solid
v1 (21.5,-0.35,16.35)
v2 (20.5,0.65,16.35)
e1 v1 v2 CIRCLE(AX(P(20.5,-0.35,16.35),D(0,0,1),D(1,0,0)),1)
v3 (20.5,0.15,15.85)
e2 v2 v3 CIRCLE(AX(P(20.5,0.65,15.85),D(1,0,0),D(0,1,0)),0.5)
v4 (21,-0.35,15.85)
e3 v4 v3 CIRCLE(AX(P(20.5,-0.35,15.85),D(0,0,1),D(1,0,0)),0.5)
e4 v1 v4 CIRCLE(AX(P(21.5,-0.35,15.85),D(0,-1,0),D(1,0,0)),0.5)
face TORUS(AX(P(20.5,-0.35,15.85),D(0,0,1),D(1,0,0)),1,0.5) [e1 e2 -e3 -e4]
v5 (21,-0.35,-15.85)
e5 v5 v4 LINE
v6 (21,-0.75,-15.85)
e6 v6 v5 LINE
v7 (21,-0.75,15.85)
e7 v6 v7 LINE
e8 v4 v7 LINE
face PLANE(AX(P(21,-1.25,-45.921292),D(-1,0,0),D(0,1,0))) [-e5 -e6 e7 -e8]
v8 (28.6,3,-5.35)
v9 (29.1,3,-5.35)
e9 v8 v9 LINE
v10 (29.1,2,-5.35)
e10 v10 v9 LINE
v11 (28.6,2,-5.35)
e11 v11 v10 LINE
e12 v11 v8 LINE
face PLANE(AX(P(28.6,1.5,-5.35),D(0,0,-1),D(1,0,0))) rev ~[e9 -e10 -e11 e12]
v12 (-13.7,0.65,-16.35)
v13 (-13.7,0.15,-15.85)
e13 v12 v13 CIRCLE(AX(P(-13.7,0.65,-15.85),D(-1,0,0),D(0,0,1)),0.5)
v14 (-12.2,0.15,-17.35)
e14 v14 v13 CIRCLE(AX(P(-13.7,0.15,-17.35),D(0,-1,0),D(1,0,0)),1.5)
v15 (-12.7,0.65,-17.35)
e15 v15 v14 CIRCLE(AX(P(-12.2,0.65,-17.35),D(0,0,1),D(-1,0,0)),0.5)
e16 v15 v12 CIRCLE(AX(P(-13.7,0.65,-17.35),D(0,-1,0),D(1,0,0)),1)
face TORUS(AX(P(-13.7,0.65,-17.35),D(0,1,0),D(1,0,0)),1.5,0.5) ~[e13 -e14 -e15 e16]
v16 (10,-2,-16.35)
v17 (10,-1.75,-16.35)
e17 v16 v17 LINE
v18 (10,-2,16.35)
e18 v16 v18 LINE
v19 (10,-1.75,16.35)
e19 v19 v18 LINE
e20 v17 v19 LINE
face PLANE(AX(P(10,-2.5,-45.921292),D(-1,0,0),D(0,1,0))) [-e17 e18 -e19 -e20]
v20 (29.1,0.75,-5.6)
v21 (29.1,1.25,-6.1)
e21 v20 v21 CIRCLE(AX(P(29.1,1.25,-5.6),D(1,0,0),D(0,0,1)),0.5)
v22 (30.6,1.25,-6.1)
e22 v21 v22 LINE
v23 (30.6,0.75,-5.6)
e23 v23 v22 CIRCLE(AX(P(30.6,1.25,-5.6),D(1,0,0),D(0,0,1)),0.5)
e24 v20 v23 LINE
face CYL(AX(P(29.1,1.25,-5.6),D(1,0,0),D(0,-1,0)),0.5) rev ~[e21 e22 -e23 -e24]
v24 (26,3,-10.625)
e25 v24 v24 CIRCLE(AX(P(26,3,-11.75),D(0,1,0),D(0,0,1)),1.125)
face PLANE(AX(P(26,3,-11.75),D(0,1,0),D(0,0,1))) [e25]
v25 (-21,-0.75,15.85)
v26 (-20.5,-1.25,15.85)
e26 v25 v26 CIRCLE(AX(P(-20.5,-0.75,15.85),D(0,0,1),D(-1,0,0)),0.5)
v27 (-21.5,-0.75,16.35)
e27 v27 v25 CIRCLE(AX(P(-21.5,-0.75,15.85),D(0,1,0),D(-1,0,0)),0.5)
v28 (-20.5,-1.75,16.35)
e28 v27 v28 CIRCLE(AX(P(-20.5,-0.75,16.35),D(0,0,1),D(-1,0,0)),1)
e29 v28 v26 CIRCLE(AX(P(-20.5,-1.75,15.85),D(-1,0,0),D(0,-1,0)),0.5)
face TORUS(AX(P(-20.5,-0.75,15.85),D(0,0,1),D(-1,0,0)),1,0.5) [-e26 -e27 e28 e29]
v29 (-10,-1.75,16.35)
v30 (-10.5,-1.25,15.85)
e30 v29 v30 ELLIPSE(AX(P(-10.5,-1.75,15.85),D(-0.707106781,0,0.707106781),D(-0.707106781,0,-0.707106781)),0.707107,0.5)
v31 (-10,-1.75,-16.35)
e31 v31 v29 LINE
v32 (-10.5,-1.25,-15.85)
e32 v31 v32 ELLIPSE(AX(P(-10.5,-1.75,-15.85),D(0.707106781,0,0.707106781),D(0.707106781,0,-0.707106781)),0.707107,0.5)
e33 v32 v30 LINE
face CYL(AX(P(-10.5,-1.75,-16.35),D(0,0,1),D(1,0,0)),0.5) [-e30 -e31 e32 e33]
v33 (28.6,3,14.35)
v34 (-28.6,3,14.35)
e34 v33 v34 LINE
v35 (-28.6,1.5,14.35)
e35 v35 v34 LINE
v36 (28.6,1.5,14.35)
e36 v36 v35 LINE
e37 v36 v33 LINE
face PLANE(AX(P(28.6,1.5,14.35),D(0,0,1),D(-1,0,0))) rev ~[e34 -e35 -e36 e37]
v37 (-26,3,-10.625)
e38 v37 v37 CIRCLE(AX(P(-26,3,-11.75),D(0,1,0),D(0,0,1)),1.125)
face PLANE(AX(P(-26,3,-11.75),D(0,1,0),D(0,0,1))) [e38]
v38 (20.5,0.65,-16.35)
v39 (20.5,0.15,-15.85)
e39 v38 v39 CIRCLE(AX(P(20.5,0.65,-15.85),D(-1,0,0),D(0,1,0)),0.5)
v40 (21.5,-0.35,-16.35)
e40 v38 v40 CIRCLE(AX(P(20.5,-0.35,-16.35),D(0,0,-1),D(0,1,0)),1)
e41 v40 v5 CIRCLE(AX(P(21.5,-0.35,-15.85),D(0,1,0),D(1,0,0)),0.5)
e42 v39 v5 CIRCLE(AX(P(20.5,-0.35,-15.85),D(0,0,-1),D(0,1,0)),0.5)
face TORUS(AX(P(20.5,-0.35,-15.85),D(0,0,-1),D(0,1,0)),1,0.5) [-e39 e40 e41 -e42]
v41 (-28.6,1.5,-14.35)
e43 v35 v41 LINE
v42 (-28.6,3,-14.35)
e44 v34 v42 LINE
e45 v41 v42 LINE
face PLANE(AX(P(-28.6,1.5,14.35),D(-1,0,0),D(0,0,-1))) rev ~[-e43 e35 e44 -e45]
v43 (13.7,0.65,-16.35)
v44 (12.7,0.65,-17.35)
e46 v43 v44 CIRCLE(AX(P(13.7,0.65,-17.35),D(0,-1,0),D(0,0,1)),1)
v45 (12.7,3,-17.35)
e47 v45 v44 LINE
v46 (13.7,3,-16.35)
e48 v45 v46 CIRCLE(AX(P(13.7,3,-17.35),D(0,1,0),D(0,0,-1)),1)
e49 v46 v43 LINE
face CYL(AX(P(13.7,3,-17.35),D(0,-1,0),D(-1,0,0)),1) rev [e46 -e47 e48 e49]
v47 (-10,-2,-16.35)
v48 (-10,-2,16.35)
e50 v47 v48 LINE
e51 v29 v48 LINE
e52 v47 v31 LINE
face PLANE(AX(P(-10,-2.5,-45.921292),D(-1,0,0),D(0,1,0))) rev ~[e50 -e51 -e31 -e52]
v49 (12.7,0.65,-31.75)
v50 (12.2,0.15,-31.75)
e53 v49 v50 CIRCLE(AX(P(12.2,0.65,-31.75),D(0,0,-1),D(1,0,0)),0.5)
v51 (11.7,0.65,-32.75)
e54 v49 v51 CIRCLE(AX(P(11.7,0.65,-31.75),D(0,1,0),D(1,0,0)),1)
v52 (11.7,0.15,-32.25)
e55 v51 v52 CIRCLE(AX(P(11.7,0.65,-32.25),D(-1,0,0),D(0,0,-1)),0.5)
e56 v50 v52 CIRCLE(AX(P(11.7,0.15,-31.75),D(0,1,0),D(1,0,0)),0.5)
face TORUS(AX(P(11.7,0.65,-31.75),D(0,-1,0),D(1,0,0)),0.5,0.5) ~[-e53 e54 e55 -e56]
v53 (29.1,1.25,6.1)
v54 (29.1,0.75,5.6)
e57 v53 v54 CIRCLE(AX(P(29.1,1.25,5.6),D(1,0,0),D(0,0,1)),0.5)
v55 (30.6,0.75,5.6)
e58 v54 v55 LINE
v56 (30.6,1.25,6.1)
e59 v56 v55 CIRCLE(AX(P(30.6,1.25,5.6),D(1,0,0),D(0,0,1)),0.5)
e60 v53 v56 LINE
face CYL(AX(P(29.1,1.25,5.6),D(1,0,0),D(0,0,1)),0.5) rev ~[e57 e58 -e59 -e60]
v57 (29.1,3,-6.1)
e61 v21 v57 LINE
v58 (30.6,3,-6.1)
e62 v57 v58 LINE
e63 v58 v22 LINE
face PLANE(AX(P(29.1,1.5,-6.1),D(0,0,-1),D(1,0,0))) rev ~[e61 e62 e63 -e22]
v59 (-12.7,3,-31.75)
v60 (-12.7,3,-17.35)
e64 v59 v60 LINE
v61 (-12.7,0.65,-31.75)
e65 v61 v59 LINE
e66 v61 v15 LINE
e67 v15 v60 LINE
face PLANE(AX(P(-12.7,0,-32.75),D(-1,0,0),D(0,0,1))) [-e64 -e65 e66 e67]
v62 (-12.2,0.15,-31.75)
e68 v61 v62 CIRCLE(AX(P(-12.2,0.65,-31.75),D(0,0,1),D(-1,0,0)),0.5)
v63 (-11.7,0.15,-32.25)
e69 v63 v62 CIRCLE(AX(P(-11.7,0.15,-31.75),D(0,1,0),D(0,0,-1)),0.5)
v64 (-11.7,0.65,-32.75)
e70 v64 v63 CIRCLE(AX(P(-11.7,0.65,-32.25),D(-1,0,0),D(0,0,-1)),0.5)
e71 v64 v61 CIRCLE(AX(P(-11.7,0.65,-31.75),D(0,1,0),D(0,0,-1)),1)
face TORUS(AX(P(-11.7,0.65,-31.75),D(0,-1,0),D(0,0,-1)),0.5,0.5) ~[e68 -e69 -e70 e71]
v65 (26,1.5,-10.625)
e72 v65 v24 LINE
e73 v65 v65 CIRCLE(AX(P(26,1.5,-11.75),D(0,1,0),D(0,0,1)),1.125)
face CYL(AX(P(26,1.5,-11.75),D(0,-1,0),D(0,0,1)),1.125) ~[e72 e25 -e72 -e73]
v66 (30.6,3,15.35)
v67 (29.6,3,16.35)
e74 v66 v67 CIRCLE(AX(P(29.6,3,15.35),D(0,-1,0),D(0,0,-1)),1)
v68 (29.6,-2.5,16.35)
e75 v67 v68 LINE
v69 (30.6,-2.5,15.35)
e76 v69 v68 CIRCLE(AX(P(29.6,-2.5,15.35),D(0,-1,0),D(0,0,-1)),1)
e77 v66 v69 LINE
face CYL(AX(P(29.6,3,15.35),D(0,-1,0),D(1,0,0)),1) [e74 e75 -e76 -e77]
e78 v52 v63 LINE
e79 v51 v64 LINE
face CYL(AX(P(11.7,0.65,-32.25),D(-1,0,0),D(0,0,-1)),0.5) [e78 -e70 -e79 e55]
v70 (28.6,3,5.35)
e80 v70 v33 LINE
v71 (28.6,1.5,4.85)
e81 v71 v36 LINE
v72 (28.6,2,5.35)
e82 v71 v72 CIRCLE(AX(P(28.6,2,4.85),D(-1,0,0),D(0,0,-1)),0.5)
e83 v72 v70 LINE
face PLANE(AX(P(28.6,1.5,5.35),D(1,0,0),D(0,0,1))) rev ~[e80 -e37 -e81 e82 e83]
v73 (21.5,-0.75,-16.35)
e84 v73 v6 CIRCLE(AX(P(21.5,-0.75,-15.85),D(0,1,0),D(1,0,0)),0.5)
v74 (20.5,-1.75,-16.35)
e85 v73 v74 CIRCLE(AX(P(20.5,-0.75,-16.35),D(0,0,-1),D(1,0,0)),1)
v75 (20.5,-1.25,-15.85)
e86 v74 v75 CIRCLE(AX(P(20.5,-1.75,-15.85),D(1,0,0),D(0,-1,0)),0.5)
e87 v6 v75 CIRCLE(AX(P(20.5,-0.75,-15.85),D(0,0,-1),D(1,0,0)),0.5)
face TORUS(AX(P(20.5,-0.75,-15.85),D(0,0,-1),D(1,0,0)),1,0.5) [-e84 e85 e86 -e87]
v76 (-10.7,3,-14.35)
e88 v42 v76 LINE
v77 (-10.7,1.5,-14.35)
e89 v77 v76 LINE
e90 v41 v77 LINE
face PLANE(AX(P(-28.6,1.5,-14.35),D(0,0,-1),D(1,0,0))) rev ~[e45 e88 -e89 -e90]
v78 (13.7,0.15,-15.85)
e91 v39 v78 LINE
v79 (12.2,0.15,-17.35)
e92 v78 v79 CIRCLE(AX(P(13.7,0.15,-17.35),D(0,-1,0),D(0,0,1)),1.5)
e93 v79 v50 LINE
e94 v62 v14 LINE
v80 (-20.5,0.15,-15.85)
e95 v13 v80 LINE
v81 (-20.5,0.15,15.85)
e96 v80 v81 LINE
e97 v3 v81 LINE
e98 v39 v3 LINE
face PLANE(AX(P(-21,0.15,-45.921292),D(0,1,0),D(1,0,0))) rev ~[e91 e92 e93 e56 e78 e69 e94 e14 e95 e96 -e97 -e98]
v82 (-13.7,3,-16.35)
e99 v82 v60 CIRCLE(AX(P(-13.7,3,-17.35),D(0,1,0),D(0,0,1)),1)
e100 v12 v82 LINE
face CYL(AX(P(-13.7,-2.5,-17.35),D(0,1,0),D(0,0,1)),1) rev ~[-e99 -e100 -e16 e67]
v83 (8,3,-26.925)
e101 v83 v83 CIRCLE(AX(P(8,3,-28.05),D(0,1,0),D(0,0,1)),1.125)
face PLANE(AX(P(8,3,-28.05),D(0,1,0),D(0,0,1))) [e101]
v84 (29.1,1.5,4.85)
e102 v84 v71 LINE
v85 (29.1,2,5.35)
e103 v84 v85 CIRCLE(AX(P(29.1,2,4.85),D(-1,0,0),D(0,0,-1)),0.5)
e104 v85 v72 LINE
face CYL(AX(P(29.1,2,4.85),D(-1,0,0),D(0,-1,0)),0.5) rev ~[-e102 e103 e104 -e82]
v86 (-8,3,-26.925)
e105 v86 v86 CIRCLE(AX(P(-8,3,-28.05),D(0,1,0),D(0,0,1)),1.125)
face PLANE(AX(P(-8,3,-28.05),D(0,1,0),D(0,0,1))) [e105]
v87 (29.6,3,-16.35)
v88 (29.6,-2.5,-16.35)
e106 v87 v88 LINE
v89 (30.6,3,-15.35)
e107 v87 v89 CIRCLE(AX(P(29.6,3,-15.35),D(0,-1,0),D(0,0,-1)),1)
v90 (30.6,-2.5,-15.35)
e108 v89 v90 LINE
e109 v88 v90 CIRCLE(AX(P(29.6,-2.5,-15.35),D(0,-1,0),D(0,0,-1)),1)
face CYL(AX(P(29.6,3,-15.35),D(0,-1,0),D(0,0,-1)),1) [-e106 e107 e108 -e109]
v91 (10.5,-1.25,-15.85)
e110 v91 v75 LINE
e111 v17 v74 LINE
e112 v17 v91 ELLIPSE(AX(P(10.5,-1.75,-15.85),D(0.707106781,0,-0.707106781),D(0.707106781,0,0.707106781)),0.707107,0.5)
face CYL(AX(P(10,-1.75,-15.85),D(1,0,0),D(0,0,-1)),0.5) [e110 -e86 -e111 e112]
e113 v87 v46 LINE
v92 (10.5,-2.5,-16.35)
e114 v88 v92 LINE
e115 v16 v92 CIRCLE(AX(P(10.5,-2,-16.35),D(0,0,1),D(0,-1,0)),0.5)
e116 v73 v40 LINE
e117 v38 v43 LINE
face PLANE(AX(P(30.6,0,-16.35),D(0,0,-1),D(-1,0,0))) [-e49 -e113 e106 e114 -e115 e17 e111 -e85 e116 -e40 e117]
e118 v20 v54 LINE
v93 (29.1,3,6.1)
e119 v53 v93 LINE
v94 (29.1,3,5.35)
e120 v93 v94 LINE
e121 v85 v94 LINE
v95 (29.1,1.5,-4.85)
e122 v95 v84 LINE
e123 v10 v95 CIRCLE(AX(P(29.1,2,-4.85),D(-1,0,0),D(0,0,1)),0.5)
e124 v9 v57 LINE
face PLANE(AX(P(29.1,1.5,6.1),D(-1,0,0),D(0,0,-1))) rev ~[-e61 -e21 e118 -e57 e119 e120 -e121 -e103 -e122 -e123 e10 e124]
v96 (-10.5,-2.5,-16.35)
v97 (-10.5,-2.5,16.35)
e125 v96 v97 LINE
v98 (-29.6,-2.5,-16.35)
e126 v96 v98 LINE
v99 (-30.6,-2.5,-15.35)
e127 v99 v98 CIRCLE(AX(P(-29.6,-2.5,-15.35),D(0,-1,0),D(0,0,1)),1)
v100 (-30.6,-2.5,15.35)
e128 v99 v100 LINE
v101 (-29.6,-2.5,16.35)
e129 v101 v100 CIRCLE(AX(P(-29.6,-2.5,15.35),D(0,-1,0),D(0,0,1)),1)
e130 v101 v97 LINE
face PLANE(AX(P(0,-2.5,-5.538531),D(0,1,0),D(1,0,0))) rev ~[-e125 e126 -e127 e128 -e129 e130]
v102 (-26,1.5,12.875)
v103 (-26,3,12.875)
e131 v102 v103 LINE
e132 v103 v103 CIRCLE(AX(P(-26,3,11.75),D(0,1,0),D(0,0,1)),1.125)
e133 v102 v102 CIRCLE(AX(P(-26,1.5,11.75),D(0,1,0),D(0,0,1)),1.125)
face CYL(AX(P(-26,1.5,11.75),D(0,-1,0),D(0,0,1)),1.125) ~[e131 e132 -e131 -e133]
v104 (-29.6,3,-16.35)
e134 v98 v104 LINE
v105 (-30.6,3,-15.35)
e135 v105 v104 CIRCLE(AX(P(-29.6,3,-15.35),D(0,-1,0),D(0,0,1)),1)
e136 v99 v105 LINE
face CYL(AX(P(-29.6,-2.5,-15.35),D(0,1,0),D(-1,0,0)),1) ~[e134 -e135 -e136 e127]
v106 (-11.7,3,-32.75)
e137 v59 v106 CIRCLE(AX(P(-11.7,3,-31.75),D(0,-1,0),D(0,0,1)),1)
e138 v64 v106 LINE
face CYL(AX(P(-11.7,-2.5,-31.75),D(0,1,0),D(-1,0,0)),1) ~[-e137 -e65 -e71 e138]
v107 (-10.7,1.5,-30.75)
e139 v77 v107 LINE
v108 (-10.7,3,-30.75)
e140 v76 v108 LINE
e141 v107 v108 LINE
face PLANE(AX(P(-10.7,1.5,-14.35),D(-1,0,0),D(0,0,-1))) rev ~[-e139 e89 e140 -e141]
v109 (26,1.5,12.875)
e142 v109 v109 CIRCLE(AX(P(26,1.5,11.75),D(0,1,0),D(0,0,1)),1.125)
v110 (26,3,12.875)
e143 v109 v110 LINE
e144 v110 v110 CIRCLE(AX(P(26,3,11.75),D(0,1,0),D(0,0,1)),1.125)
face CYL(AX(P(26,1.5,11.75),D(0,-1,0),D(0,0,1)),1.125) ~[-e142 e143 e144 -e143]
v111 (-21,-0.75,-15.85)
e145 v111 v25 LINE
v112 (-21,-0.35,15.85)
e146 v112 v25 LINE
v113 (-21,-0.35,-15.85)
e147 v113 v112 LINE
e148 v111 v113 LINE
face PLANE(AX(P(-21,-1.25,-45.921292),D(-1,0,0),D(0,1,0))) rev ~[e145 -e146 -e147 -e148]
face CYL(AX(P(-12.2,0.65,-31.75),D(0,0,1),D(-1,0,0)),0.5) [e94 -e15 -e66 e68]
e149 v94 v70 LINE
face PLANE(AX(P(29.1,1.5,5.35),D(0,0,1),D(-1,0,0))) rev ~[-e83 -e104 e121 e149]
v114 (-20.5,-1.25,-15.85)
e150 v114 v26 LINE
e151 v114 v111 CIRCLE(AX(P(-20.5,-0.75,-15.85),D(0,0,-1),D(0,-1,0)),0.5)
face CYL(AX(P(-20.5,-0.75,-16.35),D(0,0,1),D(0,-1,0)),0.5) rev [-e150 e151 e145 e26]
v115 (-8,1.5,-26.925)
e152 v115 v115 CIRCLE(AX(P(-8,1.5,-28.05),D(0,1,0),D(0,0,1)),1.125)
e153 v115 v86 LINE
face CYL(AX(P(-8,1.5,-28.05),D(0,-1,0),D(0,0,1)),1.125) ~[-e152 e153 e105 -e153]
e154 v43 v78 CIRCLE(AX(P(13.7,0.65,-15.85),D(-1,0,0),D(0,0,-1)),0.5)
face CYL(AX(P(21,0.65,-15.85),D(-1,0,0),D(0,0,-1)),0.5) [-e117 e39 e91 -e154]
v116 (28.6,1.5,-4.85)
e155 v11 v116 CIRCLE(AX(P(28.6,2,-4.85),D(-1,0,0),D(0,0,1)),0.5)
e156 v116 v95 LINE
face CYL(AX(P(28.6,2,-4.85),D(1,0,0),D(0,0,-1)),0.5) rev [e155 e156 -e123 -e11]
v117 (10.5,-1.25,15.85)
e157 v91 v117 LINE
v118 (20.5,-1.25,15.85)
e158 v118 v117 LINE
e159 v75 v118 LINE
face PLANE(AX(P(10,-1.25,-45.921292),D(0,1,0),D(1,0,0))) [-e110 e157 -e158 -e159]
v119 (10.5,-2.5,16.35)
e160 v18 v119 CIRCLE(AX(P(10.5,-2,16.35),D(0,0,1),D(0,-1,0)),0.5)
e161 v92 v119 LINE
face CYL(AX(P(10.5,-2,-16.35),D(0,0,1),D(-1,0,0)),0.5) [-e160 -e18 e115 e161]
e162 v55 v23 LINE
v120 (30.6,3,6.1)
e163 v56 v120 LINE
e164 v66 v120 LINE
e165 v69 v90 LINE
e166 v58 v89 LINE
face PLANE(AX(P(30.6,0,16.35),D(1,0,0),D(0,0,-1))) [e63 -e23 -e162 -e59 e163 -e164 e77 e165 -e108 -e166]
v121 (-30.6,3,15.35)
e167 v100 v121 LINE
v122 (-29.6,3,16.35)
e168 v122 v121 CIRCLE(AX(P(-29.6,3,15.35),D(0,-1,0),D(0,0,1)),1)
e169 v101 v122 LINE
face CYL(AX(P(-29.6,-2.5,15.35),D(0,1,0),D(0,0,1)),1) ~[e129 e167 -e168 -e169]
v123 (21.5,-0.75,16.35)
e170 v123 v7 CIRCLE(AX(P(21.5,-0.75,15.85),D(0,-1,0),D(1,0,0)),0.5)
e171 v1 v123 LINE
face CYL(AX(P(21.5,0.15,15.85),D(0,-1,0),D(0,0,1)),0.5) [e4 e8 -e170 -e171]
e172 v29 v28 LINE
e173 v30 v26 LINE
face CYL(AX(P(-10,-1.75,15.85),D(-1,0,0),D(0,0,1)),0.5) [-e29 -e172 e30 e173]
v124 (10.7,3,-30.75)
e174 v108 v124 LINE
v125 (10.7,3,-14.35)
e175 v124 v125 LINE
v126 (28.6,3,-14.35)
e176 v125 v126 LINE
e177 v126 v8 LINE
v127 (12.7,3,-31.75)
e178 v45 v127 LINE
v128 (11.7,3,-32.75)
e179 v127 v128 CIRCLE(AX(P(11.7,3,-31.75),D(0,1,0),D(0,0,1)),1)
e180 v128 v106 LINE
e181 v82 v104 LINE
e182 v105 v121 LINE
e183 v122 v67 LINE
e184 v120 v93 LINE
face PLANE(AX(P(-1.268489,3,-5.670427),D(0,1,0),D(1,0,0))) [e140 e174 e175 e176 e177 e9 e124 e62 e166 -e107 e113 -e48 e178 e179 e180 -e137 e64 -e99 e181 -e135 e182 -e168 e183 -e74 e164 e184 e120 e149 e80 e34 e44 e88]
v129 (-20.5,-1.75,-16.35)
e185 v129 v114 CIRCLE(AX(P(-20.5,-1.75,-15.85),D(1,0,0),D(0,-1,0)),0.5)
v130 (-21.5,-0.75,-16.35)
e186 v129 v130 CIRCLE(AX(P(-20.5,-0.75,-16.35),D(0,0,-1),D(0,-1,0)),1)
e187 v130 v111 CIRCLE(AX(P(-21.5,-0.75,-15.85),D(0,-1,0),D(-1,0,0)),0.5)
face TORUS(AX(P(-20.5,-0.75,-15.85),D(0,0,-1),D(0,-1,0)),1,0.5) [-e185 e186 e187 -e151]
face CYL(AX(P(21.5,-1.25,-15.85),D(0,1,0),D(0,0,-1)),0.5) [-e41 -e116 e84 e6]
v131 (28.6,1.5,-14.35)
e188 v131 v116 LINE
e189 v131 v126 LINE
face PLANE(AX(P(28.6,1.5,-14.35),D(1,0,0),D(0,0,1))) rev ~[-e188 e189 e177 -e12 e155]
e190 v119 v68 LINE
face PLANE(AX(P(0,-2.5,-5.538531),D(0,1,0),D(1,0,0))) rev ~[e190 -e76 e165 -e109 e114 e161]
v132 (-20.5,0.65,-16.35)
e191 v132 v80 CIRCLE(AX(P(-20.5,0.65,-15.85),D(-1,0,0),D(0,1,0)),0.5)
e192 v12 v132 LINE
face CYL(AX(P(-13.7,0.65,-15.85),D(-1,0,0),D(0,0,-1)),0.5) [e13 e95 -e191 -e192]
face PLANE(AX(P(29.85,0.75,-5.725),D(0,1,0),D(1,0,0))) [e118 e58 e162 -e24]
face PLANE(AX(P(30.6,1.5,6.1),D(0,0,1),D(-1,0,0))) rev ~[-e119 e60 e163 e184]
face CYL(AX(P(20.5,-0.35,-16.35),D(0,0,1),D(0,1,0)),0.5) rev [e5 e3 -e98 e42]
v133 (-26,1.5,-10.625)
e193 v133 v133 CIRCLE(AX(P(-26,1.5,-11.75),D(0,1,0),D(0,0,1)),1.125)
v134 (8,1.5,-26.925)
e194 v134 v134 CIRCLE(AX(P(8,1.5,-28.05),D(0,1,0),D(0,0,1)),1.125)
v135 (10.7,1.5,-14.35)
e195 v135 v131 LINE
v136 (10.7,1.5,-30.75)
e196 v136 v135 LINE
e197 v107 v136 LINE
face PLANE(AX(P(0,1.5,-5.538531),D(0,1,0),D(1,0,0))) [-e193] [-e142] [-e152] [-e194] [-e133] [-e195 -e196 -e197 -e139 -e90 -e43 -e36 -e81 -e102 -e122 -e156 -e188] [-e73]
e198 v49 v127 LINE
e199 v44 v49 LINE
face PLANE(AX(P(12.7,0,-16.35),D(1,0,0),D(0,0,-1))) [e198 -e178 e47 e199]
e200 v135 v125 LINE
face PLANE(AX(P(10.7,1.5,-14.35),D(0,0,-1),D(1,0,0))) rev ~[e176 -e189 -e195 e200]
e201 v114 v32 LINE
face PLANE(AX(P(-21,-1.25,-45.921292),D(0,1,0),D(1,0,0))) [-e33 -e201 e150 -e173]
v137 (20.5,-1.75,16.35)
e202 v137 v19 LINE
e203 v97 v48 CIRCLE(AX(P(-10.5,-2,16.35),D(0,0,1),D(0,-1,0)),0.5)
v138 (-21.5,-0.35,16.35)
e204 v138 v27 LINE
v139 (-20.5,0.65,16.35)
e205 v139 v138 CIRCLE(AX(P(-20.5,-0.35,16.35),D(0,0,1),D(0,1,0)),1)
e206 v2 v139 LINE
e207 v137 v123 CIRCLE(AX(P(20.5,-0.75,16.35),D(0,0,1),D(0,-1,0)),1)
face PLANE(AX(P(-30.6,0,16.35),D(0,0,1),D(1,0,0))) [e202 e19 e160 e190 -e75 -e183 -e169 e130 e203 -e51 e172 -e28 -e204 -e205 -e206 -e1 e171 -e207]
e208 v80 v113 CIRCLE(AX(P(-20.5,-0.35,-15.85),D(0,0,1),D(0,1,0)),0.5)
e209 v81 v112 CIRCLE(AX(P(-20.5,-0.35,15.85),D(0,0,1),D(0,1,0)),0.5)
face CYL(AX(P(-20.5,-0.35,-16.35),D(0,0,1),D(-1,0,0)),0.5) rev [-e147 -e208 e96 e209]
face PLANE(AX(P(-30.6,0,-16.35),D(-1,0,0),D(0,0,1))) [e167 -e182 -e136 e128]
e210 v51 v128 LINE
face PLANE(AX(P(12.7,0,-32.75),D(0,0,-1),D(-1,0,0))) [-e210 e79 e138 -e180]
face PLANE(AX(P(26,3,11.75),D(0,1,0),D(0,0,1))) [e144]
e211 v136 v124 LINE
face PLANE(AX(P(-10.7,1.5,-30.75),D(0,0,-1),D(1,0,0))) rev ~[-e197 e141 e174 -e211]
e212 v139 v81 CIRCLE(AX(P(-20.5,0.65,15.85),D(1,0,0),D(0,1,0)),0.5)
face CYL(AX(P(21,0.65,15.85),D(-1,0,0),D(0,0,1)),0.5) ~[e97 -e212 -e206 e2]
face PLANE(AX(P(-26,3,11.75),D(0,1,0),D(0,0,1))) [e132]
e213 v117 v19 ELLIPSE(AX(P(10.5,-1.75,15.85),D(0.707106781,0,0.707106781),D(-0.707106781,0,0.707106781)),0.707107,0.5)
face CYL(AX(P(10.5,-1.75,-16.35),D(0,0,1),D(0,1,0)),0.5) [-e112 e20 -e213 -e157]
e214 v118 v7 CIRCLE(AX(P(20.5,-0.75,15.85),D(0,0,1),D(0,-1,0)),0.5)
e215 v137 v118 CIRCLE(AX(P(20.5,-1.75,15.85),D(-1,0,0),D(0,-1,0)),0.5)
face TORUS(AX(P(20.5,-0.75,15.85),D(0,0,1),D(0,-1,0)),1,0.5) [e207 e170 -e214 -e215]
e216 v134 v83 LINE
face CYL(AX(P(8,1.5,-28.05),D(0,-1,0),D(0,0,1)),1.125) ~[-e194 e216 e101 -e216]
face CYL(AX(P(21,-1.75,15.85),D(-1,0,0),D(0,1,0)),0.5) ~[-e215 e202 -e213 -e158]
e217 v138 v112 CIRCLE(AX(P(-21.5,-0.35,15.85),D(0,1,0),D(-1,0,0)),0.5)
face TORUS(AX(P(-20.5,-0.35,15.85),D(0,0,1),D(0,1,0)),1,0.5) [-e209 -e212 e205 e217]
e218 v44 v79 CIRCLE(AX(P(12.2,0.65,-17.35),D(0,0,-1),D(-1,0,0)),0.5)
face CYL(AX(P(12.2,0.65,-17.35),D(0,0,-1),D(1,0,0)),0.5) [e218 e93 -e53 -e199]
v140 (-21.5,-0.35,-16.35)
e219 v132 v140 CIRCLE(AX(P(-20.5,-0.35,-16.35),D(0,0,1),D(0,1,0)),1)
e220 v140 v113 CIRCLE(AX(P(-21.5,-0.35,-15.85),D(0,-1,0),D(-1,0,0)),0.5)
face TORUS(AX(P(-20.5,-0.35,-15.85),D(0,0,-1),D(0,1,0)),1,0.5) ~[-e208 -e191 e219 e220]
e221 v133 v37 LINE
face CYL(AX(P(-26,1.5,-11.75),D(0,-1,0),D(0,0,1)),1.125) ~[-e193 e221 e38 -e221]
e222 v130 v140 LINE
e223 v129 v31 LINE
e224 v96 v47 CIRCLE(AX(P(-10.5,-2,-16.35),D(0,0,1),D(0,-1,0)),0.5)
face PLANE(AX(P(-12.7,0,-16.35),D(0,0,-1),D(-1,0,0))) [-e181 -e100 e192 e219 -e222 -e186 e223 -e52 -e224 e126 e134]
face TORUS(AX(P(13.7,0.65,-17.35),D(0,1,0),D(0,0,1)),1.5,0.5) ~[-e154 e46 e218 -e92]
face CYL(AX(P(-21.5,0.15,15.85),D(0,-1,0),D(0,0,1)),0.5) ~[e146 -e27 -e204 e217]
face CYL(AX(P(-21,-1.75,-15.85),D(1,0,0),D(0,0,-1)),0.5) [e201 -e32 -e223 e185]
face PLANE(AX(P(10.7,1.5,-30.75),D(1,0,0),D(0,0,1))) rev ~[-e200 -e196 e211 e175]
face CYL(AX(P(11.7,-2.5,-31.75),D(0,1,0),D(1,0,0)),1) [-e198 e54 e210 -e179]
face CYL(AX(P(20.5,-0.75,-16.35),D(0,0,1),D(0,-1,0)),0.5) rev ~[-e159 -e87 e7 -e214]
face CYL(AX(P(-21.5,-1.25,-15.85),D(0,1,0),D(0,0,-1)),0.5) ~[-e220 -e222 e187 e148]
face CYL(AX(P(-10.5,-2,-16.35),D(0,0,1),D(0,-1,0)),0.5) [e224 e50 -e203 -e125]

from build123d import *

# Parameters (mm, degrees)
BOSS_EXTRUDE1_DEPTH     = 1.5
BOSS_EXTRUDE2_START     = 1.5
SKETCH2_3_R             = 1.125
BOSS_EXTRUDE2_DEPTH     = 1.5
BOSS_EXTRUDE3_DEPTH     = 2.5
FILLET1_R               = 1
CUT_EXTRUDE1_DEPTH      = 45.921292279
CUT_EXTRUDE1_DEPTH_BACK = 45.921292279
SKETCH3_W               = 42
SKETCH3_H               = 1.4
SKETCH3_W_2             = 20
SKETCH3_H_2             = 1.25
CUT_EXTRUDE3_START      = -16.35
SKETCH3_4_W             = 5
SKETCH3_4_H             = 1.25
SKETCH3_4_W_2           = 20
CUT_EXTRUDE3_DEPTH      = 29.571292279
FILLET2_R               = 0.5
CUT_EXTRUDE2_START      = 0.75
SKETCH2_5_W             = 1.5
SKETCH2_5_H             = 0.75
SKETCH2_5_H_2           = 10.7
CUT_EXTRUDE2_DEPTH      = 0.75
FILLET3_R               = 0.5


with BuildPart() as part:
    # Sketch2 → Boss-Extrude1 (new body)
    with BuildSketch(Plane(origin=(0, 0, 0), x_dir=(1, 0, 0), z_dir=(0, 1, 0))):
        Polygon((12.7, 16.35), (12.7, 32.75), (-12.7, 32.75), (-12.7, 16.35), (-30.6, 16.35), (-30.6, -16.35), (30.6, -16.35), (30.6, 16.35), align=None)
    extrude(amount=BOSS_EXTRUDE1_DEPTH)

    # Sketch2<3> → Boss-Extrude2 (add)
    with BuildSketch(Plane(origin=(0, 0, 0), x_dir=(1, 0, 0), z_dir=(0, 1, 0)).offset(BOSS_EXTRUDE2_START)):
        Polygon((-30.6, 16.35), (-30.6, -16.35), (30.6, -16.35), (30.6, -6.1), (29.1, -6.1), (29.1, -5.35), (28.6, -5.35), (28.6, -14.35), (-28.6, -14.35), (-28.6, 14.35), (-10.7, 14.35), (-10.7, 30.75), (10.7, 30.75), (10.7, 14.35), (28.6, 14.35), (28.6, 5.35), (29.1, 5.35), (29.1, 6.1), (30.6, 6.1), (30.6, 16.35), (12.7, 16.35), (12.7, 32.75), (-12.7, 32.75), (-12.7, 16.35), align=None)
        with Locations(Location((-26, 11.75, 0), (0, 0, 270))):
            Circle(SKETCH2_3_R)
        with Locations(Location((-26, -11.75, 0), (0, 0, 270))):
            Circle(SKETCH2_3_R)
        with Locations(Location((26, -11.75, 0), (0, 0, 270))):
            Circle(SKETCH2_3_R)
        with Locations(Location((26, 11.75, 0), (0, 0, 270))):
            Circle(SKETCH2_3_R)
        with Locations(Location((8, 28.05, 0), (0, 0, 270))):
            Circle(SKETCH2_3_R)
        with Locations(Location((-8, 28.05, 0), (0, 0, 270))):
            Circle(SKETCH2_3_R)
    extrude(amount=BOSS_EXTRUDE2_DEPTH)

    # Sketch2<4> → Boss-Extrude3 (add)
    with BuildSketch(Plane(origin=(0, 0, 0), x_dir=(1, 0, 0), z_dir=(0, 1, 0))):
        Polygon((12.7, 16.35), (12.7, 32.75), (-12.7, 32.75), (-12.7, 16.35), (-30.6, 16.35), (-30.6, -16.35), (30.6, -16.35), (30.6, 16.35), align=None)
    extrude(amount=-BOSS_EXTRUDE3_DEPTH)

    # Fillet1
    fillet1_edges = [part.edges().sort_by_distance(p)[0] for p in [
        (30.6, 0.25, 16.35),
        (-30.6, 0.25, 16.35),
        (-30.6, 0.25, -16.35),
        (-12.7, 0.25, -16.35),
        (-12.7, 0.25, -32.75),
        (12.7, 0.25, -32.75),
        (12.7, 0.25, -16.35),
        (30.6, 0.25, -16.35),
    ]]
    fillet(fillet1_edges, radius=FILLET1_R)

    # Sketch3 → Cut-Extrude1 (cut, two sides: drawn at the far end of the back side and taken through both)
    with BuildSketch(Plane.XY.offset(-CUT_EXTRUDE1_DEPTH_BACK)):
        with Locations((0, -0.55)):
            Rectangle(SKETCH3_W, SKETCH3_H)
        with Locations((0, -1.875)):
            Rectangle(SKETCH3_W_2, SKETCH3_H_2)
    extrude(amount=CUT_EXTRUDE1_DEPTH + CUT_EXTRUDE1_DEPTH_BACK, mode=Mode.SUBTRACT)

    # Sketch3<4> → Cut-Extrude3 (cut, through all)
    with BuildSketch(Plane.XY.offset(CUT_EXTRUDE3_START)):
        with Locations((12.5, -1.875)):
            Rectangle(SKETCH3_4_W, SKETCH3_4_H)
        with Locations((0, -1.875)):
            Rectangle(SKETCH3_4_W_2, SKETCH3_4_H)
        with Locations((-12.5, -1.875)):
            Rectangle(SKETCH3_4_W, SKETCH3_4_H)
    extrude(amount=-CUT_EXTRUDE3_DEPTH, mode=Mode.SUBTRACT)

    # Fillet2
    fillet2_edges = [part.edges().sort_by_distance(p)[0] for p in [
        (-12.407106781, 0.15, -32.457106781),
        (21, -0.55, -16.35),
        (15.5, -1.25, -16.35),
        (-15.5, -1.25, -16.35),
        (12.7, 0.15, -24.55),
        (12.992893219, 0.15, -16.642893219),
        (-12.992893219, 0.15, -16.642893219),
        (-21, -0.55, -16.35),
        (-21, -1.25, 0),
        (-21, -0.55, 16.35),
        (17.35, 0.15, -16.35),
        (12.407106781, 0.15, -32.457106781),
        (-12.7, 0.15, -24.55),
        (-17.35, 0.15, -16.35),
        (-21, 0.15, 0),
        (0, 0.15, 16.35),
        (21, 0.15, 0),
        (21, -1.25, 0),
        (0, 0.15, -32.75),
        (-15.5, -1.25, 16.35),
        (15.5, -1.25, 16.35),
        (21, -0.55, 16.35),
        (-10, -2.5, 0),
        (-10, -1.25, 0),
        (10, -1.25, 0),
        (10, -2.5, 0),
    ]]
    fillet(fillet2_edges, radius=FILLET2_R)

    # Sketch2<5> → Cut-Extrude2 (cut)
    with BuildSketch(Plane(origin=(0, 0, 0), x_dir=(1, 0, 0), z_dir=(0, 1, 0)).offset(CUT_EXTRUDE2_START)):
        with Locations((29.85, 5.725)):
            Rectangle(SKETCH2_5_W, SKETCH2_5_H)
        with Locations((29.85, 0)):
            Rectangle(SKETCH2_5_W, SKETCH2_5_H_2)
        with Locations((29.85, -5.725)):
            Rectangle(SKETCH2_5_W, SKETCH2_5_H)
    extrude(amount=CUT_EXTRUDE2_DEPTH, mode=Mode.SUBTRACT)

    # Fillet3
    fillet3_edges = [part.edges().sort_by_distance(p)[0] for p in [
        (29.85, 0.75, 6.1),
        (29.85, 0.75, -6.1),
        (28.85, 1.5, -5.35),
        (28.85, 1.5, 5.35),
    ]]
    fillet(fillet3_edges, radius=FILLET3_R)


solid = part.part
